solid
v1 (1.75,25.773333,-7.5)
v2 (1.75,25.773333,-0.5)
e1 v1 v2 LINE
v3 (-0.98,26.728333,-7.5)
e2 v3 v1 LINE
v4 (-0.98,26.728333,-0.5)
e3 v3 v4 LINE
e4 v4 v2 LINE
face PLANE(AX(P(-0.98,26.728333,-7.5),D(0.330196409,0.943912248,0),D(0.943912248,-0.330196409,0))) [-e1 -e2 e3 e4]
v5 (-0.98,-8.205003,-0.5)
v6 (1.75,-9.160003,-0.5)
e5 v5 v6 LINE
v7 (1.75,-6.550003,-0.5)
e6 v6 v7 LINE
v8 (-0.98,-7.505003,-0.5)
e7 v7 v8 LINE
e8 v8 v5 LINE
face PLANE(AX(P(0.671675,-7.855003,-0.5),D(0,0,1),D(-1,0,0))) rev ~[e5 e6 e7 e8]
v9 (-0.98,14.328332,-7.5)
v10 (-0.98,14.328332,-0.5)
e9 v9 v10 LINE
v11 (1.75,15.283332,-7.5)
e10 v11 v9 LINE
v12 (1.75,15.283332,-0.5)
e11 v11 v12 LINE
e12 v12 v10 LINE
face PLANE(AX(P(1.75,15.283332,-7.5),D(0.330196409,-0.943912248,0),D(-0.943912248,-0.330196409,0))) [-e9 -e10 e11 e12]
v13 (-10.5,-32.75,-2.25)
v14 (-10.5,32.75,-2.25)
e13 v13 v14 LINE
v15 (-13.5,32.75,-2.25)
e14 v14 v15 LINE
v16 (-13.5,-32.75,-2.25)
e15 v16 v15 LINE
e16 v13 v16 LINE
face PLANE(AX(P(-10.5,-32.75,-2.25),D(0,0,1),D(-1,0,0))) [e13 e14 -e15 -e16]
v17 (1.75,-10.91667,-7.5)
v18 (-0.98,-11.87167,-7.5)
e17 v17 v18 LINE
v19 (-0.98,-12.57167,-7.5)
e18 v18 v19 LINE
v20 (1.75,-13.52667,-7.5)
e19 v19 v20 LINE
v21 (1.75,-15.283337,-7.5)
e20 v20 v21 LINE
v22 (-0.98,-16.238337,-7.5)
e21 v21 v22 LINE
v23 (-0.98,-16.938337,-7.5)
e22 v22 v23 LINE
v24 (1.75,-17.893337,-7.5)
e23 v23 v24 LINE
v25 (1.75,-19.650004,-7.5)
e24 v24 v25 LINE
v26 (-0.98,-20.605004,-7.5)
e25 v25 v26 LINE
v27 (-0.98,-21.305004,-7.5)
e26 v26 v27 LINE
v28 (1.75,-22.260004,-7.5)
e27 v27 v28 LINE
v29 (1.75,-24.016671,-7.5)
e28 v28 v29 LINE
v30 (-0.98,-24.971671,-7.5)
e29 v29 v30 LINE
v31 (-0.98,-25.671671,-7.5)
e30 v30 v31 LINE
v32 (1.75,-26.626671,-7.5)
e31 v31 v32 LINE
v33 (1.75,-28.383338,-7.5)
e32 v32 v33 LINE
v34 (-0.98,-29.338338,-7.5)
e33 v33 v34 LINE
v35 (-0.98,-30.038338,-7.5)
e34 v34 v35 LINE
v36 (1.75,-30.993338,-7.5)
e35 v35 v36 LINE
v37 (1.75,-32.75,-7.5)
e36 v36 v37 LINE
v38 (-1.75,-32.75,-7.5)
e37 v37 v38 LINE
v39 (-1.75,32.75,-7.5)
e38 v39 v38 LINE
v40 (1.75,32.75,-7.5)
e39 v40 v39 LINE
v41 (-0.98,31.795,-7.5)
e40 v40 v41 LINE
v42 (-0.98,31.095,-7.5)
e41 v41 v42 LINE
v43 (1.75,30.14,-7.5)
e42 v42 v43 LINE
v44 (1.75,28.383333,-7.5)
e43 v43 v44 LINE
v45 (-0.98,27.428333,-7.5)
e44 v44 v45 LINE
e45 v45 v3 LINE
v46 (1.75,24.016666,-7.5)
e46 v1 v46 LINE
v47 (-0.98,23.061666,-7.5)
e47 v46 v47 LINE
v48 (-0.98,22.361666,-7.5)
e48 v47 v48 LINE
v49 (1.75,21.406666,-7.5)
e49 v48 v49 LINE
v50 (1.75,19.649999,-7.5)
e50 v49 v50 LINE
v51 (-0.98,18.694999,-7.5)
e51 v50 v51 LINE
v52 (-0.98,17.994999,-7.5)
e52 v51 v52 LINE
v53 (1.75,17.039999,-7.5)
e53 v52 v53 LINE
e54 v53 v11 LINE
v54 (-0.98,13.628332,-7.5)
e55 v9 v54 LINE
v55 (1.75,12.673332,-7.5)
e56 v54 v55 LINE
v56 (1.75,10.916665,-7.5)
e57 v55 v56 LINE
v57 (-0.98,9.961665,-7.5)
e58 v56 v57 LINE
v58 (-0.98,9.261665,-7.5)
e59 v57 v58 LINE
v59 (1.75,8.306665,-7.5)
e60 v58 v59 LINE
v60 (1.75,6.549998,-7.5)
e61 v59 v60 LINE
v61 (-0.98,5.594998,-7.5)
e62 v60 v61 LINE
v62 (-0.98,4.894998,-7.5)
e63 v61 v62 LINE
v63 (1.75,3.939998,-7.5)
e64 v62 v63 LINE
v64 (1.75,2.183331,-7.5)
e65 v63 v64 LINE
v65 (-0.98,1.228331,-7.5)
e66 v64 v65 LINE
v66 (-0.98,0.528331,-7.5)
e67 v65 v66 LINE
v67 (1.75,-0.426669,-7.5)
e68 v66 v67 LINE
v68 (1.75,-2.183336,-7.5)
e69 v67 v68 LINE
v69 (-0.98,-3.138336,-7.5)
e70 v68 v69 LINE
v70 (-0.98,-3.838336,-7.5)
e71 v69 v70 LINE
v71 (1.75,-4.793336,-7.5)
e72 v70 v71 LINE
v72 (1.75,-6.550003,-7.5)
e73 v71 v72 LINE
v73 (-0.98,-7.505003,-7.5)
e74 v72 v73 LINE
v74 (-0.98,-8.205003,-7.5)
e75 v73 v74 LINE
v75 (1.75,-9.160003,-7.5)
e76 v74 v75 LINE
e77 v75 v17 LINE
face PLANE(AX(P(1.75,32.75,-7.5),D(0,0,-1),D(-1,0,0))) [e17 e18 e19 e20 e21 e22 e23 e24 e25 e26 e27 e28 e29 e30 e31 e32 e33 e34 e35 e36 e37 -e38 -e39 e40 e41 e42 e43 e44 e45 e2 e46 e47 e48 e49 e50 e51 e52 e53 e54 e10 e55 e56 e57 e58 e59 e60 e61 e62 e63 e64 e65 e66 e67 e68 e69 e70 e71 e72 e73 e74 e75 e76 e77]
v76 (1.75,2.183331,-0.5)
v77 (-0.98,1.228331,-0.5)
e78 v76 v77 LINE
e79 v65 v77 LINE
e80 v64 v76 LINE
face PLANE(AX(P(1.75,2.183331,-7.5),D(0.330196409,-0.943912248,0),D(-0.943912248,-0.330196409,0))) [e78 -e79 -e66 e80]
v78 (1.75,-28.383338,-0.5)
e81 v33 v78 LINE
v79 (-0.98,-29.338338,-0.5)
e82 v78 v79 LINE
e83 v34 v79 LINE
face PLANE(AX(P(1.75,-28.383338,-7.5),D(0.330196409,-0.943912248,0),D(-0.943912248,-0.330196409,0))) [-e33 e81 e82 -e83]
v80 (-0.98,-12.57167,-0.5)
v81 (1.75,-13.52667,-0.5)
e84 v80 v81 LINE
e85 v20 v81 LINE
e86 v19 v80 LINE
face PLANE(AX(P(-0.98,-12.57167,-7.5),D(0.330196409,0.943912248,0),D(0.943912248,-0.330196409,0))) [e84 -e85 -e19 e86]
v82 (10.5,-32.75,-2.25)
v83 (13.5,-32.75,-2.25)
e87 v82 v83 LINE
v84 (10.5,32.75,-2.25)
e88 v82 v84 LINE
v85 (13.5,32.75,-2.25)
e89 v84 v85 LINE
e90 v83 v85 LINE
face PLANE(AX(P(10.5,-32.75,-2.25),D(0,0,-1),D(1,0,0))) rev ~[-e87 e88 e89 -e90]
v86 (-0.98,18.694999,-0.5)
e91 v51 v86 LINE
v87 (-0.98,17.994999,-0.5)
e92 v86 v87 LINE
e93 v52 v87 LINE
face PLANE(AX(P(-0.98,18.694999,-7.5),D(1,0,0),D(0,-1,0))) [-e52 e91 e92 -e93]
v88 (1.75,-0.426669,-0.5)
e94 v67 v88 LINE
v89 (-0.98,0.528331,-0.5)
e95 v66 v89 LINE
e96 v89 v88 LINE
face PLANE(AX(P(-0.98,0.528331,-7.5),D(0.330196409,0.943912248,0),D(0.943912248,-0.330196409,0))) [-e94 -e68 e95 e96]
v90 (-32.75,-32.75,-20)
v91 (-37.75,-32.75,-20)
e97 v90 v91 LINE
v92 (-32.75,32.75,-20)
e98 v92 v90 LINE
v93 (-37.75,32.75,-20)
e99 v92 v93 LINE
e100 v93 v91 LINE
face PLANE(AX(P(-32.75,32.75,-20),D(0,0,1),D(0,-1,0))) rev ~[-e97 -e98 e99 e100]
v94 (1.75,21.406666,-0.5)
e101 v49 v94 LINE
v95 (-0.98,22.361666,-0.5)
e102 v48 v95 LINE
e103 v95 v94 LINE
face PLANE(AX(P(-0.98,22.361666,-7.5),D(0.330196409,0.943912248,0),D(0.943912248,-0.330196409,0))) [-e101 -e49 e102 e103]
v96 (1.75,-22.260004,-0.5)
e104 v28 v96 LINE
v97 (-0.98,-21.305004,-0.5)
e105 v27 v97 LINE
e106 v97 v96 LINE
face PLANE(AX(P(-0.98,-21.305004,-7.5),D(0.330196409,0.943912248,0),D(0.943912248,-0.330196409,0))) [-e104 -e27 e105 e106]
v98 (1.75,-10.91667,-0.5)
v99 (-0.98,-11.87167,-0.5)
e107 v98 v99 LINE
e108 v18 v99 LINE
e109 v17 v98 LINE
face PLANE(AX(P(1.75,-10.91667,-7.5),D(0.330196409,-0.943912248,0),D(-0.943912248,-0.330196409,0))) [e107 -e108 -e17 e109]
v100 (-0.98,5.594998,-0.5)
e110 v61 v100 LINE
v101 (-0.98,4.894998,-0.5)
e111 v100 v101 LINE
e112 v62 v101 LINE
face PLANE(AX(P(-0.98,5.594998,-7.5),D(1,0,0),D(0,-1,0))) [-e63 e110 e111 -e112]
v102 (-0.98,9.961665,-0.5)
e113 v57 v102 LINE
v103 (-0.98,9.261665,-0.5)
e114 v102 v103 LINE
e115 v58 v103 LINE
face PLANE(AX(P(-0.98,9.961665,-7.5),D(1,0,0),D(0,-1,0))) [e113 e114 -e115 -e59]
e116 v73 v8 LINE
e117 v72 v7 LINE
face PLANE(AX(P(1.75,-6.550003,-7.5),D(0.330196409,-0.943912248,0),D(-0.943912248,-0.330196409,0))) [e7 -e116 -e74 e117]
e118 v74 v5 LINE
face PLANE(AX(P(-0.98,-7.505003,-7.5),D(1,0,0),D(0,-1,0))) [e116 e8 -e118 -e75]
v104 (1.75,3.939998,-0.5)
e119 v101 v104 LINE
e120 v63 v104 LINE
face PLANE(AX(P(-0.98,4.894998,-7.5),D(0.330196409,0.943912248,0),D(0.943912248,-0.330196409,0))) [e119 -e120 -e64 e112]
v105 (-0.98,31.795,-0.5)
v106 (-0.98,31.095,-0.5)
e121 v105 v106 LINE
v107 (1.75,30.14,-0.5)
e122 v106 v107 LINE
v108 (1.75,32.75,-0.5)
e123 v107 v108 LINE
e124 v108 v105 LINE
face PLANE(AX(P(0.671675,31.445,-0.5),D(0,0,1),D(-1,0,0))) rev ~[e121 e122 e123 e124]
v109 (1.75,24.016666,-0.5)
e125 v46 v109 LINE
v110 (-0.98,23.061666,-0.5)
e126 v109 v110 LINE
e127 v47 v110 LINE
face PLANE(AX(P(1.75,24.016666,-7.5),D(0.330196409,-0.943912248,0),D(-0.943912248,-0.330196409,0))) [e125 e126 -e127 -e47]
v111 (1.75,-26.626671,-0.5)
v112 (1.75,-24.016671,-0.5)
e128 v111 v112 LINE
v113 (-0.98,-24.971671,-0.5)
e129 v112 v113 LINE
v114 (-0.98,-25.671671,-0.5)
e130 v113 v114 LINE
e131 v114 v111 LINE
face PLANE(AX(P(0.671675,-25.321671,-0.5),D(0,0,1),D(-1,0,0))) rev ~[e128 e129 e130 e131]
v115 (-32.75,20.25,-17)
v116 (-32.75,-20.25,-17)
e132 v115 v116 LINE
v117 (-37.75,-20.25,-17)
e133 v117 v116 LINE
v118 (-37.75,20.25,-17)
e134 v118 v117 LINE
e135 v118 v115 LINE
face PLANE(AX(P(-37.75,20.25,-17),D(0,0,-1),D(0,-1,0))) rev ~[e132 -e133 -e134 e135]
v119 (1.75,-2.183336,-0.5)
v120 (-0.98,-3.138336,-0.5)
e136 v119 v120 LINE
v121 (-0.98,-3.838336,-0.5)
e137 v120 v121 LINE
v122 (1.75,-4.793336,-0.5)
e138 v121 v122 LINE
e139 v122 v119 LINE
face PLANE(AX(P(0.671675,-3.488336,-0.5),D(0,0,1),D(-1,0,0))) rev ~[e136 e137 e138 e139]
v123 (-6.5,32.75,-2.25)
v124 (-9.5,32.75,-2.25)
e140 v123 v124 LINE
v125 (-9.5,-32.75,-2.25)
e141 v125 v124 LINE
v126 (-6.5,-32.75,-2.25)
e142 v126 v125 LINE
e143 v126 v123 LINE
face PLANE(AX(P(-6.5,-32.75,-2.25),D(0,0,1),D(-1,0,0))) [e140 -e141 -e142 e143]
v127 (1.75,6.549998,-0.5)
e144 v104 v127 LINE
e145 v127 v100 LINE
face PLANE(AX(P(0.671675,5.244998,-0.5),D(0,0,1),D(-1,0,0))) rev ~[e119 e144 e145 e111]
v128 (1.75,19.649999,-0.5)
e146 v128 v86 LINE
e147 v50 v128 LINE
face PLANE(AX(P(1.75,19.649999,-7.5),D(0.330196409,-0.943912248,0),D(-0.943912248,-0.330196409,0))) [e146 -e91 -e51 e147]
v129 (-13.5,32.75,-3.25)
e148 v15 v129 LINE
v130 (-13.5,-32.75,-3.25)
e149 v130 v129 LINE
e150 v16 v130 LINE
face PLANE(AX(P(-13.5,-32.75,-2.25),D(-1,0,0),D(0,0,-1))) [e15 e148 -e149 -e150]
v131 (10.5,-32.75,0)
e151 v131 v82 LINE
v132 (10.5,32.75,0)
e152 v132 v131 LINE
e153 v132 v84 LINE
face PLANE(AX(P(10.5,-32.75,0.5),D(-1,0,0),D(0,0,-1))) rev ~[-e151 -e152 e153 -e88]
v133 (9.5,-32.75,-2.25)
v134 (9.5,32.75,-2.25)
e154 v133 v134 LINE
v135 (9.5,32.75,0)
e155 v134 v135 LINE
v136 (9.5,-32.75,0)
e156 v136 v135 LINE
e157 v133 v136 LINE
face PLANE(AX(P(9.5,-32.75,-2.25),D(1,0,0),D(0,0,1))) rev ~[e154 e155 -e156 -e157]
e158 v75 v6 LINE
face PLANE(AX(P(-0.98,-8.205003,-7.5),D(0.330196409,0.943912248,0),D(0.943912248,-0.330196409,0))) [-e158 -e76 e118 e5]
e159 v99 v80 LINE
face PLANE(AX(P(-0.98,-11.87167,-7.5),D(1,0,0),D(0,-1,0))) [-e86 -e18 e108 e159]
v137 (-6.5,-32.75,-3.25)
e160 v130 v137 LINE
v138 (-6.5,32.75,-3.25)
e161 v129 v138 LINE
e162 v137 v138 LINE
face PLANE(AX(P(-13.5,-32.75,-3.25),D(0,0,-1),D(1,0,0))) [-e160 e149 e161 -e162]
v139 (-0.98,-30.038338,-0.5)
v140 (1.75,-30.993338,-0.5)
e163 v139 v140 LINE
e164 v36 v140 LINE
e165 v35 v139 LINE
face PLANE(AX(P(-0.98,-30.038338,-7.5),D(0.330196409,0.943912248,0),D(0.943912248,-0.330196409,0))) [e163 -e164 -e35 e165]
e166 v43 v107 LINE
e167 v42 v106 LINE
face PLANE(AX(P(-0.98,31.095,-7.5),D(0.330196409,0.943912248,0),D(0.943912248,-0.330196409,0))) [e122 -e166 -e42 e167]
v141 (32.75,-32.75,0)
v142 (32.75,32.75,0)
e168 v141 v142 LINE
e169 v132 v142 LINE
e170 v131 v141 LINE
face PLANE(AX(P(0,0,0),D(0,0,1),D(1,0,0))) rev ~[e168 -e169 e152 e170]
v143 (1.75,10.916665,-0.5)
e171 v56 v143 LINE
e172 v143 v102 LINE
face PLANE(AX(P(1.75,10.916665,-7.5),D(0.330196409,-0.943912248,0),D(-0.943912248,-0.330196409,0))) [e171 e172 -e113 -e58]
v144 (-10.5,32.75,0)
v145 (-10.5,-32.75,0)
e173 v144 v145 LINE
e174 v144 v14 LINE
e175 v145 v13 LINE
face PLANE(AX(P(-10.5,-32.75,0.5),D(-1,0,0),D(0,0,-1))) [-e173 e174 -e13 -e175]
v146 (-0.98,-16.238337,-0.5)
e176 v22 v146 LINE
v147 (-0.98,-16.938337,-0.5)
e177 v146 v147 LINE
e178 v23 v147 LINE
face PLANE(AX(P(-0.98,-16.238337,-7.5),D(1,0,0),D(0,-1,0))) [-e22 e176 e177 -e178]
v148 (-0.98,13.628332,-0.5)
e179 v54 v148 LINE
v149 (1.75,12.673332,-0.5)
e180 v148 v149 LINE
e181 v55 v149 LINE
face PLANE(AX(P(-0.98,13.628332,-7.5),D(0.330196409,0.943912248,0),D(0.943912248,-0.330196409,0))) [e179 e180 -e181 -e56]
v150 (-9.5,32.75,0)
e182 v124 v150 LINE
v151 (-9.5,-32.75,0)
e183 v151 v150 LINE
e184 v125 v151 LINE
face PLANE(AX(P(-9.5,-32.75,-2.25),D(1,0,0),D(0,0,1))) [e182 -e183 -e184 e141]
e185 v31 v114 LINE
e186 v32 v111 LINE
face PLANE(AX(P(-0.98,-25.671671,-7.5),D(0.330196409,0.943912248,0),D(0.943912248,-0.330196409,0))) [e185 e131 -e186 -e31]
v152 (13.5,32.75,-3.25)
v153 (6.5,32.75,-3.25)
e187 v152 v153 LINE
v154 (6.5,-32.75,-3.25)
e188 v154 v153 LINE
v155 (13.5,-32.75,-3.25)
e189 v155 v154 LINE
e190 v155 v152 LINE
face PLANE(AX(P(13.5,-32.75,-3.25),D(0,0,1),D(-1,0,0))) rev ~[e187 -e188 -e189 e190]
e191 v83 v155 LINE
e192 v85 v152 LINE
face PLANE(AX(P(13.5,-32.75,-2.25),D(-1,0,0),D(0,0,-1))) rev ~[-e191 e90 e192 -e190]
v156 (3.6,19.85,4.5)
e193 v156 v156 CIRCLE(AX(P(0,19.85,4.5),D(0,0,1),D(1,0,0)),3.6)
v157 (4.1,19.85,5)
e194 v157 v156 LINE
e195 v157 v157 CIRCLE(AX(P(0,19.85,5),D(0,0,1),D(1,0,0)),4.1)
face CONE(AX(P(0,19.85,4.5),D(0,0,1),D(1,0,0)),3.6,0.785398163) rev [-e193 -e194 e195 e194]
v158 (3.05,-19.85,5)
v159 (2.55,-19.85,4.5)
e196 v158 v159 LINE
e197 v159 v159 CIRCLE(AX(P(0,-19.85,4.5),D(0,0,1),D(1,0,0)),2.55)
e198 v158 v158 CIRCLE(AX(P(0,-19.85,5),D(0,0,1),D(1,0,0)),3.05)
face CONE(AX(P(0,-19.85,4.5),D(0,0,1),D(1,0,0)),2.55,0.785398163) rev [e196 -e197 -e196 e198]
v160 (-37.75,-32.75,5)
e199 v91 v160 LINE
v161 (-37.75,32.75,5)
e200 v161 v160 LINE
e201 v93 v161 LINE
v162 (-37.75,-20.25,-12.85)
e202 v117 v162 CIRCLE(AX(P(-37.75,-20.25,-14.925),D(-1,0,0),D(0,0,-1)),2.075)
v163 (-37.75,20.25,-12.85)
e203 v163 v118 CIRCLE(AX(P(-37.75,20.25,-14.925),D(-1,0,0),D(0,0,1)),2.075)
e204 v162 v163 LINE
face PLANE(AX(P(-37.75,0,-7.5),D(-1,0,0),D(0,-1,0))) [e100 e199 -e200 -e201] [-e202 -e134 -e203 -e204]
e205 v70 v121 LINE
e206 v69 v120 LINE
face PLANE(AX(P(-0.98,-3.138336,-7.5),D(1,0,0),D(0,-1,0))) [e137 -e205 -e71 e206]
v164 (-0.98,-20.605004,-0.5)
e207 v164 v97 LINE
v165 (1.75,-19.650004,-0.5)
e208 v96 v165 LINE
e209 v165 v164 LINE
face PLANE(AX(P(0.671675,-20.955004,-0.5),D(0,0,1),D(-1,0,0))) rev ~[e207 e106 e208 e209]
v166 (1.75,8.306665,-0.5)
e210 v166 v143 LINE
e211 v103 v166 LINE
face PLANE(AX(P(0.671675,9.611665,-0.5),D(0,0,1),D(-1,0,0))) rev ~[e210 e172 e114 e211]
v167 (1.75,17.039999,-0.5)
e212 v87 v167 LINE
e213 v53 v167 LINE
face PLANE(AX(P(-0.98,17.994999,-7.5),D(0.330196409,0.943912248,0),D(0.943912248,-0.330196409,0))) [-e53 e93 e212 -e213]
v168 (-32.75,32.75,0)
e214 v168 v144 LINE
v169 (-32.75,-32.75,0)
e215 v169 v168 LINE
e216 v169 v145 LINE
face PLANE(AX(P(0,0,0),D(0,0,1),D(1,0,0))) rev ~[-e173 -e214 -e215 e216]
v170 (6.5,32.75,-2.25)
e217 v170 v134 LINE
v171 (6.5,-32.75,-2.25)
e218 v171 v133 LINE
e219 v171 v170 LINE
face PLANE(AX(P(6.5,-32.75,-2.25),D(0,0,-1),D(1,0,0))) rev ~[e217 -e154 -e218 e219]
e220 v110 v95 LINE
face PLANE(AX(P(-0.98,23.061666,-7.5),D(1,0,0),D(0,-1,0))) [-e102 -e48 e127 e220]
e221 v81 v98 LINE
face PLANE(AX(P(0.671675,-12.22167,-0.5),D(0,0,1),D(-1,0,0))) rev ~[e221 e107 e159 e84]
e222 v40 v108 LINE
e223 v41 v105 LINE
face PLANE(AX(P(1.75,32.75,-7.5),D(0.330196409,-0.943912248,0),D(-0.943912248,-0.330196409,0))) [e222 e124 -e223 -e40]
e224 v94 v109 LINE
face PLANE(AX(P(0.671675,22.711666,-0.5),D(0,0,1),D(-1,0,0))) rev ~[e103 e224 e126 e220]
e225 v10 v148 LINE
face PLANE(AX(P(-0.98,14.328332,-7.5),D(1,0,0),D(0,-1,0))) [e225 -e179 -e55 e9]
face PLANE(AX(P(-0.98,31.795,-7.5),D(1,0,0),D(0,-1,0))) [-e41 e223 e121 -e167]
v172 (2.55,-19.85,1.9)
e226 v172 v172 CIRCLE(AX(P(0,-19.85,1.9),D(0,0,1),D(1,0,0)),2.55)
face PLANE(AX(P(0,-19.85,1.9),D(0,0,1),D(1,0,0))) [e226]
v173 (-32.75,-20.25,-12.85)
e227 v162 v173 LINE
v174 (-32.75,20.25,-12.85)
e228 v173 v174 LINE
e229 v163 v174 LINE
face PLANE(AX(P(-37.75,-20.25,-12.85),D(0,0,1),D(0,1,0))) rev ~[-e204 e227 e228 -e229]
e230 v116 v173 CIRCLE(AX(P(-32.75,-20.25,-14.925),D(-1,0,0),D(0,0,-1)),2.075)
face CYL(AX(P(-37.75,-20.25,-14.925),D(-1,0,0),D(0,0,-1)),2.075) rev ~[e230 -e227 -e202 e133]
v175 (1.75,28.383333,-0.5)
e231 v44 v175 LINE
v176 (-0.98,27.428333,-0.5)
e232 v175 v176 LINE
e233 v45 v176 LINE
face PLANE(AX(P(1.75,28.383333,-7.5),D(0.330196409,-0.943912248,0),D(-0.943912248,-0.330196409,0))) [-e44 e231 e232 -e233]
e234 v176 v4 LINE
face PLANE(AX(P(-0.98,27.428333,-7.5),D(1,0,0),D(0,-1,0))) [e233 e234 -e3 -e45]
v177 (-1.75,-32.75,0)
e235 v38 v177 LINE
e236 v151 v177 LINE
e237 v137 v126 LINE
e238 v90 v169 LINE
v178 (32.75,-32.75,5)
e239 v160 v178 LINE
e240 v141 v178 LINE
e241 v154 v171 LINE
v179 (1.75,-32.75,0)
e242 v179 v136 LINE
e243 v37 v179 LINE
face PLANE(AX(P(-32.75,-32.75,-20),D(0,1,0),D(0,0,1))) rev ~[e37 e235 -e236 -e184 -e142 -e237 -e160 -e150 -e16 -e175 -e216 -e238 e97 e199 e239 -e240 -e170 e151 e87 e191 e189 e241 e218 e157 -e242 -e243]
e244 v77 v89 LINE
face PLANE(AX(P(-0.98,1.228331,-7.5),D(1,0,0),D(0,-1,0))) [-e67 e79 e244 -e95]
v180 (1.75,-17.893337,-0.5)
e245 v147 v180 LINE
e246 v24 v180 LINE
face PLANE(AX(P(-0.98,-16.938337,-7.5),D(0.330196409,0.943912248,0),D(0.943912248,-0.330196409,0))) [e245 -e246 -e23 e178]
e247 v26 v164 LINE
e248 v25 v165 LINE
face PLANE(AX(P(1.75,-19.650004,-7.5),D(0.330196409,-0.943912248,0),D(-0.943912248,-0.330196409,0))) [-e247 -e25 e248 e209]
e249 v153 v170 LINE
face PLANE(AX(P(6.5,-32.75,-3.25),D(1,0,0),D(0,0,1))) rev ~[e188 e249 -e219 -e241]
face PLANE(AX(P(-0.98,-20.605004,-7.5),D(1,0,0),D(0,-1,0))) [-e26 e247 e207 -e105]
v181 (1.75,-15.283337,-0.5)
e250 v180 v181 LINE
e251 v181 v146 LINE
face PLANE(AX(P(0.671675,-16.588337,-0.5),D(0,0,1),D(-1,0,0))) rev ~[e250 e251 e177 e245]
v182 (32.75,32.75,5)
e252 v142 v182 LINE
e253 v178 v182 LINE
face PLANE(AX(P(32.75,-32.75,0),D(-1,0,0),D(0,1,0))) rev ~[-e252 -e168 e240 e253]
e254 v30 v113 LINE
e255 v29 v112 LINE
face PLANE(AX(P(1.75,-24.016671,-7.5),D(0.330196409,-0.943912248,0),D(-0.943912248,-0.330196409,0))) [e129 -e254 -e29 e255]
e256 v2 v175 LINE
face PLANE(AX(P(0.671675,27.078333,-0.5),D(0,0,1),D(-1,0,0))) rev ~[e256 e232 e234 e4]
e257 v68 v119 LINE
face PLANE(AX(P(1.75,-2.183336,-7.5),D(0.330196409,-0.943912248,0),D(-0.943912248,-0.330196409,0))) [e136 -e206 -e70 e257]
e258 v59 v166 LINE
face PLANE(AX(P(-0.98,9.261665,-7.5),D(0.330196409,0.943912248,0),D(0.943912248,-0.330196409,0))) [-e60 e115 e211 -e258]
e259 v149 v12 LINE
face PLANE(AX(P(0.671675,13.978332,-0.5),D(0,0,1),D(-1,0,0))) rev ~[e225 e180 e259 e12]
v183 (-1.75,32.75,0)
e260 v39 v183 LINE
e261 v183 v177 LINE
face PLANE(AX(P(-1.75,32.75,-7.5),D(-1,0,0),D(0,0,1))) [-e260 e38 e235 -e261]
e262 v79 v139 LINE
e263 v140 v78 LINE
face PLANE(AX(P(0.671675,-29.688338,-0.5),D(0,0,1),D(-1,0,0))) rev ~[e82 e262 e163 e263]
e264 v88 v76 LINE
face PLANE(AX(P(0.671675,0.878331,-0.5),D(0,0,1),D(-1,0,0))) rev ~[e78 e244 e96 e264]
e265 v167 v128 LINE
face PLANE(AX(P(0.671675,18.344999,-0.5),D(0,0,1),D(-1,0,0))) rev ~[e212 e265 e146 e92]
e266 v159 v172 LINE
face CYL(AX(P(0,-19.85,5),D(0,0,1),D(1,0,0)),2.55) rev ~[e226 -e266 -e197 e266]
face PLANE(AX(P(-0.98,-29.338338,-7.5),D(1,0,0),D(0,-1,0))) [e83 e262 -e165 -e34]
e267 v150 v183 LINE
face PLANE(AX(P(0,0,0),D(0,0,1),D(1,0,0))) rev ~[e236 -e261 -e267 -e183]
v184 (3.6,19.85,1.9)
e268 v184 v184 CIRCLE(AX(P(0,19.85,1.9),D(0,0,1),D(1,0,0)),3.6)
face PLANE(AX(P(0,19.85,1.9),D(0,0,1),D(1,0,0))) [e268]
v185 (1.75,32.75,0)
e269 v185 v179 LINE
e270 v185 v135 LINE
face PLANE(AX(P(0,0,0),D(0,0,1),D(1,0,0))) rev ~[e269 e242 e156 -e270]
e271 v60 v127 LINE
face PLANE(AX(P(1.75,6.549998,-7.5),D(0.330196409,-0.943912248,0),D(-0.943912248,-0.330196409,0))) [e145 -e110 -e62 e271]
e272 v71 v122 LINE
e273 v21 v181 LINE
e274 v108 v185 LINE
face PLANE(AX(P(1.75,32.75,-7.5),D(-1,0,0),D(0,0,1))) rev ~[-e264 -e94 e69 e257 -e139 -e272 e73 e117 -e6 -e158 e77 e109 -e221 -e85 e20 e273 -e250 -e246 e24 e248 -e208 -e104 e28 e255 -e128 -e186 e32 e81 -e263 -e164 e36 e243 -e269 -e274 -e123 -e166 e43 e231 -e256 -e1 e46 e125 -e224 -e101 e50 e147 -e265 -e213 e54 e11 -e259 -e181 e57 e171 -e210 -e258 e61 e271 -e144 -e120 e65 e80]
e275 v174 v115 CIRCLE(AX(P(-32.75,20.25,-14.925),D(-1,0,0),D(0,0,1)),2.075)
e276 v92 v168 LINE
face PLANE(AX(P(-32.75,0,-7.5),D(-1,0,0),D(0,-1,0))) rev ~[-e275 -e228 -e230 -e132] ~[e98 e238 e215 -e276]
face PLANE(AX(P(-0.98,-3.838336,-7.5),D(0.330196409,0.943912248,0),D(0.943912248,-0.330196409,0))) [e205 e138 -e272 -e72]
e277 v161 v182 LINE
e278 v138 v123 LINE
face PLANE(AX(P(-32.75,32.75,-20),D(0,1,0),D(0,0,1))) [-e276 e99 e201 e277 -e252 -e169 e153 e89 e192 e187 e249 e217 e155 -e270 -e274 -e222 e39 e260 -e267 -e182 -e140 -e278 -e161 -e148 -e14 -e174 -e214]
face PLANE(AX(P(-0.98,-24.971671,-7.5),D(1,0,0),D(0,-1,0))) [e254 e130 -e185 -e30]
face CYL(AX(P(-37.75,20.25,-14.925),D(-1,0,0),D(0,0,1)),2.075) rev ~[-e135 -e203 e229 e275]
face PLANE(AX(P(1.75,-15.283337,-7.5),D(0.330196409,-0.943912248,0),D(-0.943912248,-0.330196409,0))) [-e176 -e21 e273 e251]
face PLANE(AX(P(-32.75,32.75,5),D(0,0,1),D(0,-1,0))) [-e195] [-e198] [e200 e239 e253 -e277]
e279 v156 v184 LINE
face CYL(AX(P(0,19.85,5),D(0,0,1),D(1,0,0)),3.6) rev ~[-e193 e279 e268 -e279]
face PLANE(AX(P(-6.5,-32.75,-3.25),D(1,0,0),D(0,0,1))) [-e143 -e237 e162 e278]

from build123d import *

# Parameters (mm, degrees)
SKETCH_W            = 65.5
SKETCH_H            = 65.5
PAD_DEPTH           = 5
PAD001_DEPTH        = 65.5
SKETCH002_W         = 3.5
SKETCH002_H         = 8
PAD002_DEPTH        = 65.5
POCKET_DEPTH        = 7
LINEARPATTERN_COUNT = 16
LINEARPATTERN_PITCH = 4.366667
SKETCH005_W         = 65.5
SKETCH005_H         = 25
PAD003_DEPTH        = 5
POCKET001_DEPTH     = 5
SKETCH007_R         = 3.6
SKETCH007_R_2       = 2.55
POCKET002_DEPTH     = 3.1
CHAMFER_SIZE        = 0.5


with BuildPart() as part:
    # Sketch → Pad (new body)
    with BuildSketch(Plane.XY):
        Rectangle(SKETCH_W, SKETCH_H)
    extrude(amount=PAD_DEPTH)

    # Sketch001 (on Face3 of Pad) → Pad001 (join)
    with BuildSketch(Plane.XZ.offset(32.75)):
        Polygon((-10.5, 0.5), (-10.5, -2.25), (-13.5, -2.25), (-13.5, -3.25), (-6.5, -3.25), (-6.5, -2.25), (-9.5, -2.25), (-9.5, 0.5), align=None)
        Polygon((9.5, 0.5), (10.5, 0.5), (10.5, -2.25), (13.5, -2.25), (13.5, -3.25), (6.5, -3.25), (6.5, -2.25), (9.5, -2.25), align=None)
    extrude(amount=-PAD001_DEPTH)

    # Sketch002 (on Face1 of Pad001) → Pad002 (join)
    with BuildSketch(Plane(origin=(0, 32.75, 0), x_dir=(-1, 0, 0), z_dir=(0, 1, 0))):
        with Locations((0, -3.5)):
            Rectangle(SKETCH002_W, SKETCH002_H)
    extrude(amount=-PAD002_DEPTH)

    # Sketch003 (on Face32 of Pad002) → Pocket (cut)
    with BuildSketch(Plane(origin=(0, 0, -7.5), x_dir=(1, 0, 0), z_dir=(0, 0, -1))):
        Polygon((1.75, -32.75), (-0.98, -31.795), (-0.98, -31.095), (1.75, -30.14), align=None)
    pocket = extrude(amount=-POCKET_DEPTH, mode=Mode.SUBTRACT)

    # LinearPattern: Pocket ×16
    with Locations(*[(0, -i * LINEARPATTERN_PITCH, 0) for i in range(1, LINEARPATTERN_COUNT)]):
        add(pocket, mode=Mode.SUBTRACT)

    # Sketch005 (on Face11 of LinearPattern) → Pad003 (join)
    with BuildSketch(Plane(origin=(-32.75, 0, 0), x_dir=(0, -1, 0), z_dir=(-1, 0, 0))):
        with Locations((0, -7.5)):
            Rectangle(SKETCH005_W, SKETCH005_H)
    extrude(amount=PAD003_DEPTH)

    # Sketch006 (on Face25 of Pad003) → Pocket001 (cut)
    with BuildSketch(Plane(origin=(-37.75, 0, 0), x_dir=(0, -1, 0), z_dir=(-1, 0, 0))):
        with BuildLine():
            ThreePointArc((-20.25, -12.85), (-22.325, -14.925), (-20.25, -17))
            Line((-20.25, -17), (20.25, -17))
            ThreePointArc((20.25, -17), (22.325, -14.925), (20.25, -12.85))
            Line((20.25, -12.85), (-20.25, -12.85))
        make_face()
    extrude(amount=-POCKET001_DEPTH, mode=Mode.SUBTRACT)

    # Sketch007 (on Face10 of Pocket001) → Pocket002 (cut)
    with BuildSketch(Plane.XY.offset(5)):
        with Locations((0, 19.85)):
            Circle(SKETCH007_R)
        with Locations((0, -19.85)):
            Circle(SKETCH007_R_2)
    extrude(amount=-POCKET002_DEPTH, mode=Mode.SUBTRACT)

    # Chamfer
    chamfer_edges = [part.edges().sort_by_distance(p)[0] for p in [
        (-2.55, -19.85, 5),
        (-3.6, 19.85, 5),
    ]]
    chamfer(chamfer_edges, length=CHAMFER_SIZE)


solid = part.part
